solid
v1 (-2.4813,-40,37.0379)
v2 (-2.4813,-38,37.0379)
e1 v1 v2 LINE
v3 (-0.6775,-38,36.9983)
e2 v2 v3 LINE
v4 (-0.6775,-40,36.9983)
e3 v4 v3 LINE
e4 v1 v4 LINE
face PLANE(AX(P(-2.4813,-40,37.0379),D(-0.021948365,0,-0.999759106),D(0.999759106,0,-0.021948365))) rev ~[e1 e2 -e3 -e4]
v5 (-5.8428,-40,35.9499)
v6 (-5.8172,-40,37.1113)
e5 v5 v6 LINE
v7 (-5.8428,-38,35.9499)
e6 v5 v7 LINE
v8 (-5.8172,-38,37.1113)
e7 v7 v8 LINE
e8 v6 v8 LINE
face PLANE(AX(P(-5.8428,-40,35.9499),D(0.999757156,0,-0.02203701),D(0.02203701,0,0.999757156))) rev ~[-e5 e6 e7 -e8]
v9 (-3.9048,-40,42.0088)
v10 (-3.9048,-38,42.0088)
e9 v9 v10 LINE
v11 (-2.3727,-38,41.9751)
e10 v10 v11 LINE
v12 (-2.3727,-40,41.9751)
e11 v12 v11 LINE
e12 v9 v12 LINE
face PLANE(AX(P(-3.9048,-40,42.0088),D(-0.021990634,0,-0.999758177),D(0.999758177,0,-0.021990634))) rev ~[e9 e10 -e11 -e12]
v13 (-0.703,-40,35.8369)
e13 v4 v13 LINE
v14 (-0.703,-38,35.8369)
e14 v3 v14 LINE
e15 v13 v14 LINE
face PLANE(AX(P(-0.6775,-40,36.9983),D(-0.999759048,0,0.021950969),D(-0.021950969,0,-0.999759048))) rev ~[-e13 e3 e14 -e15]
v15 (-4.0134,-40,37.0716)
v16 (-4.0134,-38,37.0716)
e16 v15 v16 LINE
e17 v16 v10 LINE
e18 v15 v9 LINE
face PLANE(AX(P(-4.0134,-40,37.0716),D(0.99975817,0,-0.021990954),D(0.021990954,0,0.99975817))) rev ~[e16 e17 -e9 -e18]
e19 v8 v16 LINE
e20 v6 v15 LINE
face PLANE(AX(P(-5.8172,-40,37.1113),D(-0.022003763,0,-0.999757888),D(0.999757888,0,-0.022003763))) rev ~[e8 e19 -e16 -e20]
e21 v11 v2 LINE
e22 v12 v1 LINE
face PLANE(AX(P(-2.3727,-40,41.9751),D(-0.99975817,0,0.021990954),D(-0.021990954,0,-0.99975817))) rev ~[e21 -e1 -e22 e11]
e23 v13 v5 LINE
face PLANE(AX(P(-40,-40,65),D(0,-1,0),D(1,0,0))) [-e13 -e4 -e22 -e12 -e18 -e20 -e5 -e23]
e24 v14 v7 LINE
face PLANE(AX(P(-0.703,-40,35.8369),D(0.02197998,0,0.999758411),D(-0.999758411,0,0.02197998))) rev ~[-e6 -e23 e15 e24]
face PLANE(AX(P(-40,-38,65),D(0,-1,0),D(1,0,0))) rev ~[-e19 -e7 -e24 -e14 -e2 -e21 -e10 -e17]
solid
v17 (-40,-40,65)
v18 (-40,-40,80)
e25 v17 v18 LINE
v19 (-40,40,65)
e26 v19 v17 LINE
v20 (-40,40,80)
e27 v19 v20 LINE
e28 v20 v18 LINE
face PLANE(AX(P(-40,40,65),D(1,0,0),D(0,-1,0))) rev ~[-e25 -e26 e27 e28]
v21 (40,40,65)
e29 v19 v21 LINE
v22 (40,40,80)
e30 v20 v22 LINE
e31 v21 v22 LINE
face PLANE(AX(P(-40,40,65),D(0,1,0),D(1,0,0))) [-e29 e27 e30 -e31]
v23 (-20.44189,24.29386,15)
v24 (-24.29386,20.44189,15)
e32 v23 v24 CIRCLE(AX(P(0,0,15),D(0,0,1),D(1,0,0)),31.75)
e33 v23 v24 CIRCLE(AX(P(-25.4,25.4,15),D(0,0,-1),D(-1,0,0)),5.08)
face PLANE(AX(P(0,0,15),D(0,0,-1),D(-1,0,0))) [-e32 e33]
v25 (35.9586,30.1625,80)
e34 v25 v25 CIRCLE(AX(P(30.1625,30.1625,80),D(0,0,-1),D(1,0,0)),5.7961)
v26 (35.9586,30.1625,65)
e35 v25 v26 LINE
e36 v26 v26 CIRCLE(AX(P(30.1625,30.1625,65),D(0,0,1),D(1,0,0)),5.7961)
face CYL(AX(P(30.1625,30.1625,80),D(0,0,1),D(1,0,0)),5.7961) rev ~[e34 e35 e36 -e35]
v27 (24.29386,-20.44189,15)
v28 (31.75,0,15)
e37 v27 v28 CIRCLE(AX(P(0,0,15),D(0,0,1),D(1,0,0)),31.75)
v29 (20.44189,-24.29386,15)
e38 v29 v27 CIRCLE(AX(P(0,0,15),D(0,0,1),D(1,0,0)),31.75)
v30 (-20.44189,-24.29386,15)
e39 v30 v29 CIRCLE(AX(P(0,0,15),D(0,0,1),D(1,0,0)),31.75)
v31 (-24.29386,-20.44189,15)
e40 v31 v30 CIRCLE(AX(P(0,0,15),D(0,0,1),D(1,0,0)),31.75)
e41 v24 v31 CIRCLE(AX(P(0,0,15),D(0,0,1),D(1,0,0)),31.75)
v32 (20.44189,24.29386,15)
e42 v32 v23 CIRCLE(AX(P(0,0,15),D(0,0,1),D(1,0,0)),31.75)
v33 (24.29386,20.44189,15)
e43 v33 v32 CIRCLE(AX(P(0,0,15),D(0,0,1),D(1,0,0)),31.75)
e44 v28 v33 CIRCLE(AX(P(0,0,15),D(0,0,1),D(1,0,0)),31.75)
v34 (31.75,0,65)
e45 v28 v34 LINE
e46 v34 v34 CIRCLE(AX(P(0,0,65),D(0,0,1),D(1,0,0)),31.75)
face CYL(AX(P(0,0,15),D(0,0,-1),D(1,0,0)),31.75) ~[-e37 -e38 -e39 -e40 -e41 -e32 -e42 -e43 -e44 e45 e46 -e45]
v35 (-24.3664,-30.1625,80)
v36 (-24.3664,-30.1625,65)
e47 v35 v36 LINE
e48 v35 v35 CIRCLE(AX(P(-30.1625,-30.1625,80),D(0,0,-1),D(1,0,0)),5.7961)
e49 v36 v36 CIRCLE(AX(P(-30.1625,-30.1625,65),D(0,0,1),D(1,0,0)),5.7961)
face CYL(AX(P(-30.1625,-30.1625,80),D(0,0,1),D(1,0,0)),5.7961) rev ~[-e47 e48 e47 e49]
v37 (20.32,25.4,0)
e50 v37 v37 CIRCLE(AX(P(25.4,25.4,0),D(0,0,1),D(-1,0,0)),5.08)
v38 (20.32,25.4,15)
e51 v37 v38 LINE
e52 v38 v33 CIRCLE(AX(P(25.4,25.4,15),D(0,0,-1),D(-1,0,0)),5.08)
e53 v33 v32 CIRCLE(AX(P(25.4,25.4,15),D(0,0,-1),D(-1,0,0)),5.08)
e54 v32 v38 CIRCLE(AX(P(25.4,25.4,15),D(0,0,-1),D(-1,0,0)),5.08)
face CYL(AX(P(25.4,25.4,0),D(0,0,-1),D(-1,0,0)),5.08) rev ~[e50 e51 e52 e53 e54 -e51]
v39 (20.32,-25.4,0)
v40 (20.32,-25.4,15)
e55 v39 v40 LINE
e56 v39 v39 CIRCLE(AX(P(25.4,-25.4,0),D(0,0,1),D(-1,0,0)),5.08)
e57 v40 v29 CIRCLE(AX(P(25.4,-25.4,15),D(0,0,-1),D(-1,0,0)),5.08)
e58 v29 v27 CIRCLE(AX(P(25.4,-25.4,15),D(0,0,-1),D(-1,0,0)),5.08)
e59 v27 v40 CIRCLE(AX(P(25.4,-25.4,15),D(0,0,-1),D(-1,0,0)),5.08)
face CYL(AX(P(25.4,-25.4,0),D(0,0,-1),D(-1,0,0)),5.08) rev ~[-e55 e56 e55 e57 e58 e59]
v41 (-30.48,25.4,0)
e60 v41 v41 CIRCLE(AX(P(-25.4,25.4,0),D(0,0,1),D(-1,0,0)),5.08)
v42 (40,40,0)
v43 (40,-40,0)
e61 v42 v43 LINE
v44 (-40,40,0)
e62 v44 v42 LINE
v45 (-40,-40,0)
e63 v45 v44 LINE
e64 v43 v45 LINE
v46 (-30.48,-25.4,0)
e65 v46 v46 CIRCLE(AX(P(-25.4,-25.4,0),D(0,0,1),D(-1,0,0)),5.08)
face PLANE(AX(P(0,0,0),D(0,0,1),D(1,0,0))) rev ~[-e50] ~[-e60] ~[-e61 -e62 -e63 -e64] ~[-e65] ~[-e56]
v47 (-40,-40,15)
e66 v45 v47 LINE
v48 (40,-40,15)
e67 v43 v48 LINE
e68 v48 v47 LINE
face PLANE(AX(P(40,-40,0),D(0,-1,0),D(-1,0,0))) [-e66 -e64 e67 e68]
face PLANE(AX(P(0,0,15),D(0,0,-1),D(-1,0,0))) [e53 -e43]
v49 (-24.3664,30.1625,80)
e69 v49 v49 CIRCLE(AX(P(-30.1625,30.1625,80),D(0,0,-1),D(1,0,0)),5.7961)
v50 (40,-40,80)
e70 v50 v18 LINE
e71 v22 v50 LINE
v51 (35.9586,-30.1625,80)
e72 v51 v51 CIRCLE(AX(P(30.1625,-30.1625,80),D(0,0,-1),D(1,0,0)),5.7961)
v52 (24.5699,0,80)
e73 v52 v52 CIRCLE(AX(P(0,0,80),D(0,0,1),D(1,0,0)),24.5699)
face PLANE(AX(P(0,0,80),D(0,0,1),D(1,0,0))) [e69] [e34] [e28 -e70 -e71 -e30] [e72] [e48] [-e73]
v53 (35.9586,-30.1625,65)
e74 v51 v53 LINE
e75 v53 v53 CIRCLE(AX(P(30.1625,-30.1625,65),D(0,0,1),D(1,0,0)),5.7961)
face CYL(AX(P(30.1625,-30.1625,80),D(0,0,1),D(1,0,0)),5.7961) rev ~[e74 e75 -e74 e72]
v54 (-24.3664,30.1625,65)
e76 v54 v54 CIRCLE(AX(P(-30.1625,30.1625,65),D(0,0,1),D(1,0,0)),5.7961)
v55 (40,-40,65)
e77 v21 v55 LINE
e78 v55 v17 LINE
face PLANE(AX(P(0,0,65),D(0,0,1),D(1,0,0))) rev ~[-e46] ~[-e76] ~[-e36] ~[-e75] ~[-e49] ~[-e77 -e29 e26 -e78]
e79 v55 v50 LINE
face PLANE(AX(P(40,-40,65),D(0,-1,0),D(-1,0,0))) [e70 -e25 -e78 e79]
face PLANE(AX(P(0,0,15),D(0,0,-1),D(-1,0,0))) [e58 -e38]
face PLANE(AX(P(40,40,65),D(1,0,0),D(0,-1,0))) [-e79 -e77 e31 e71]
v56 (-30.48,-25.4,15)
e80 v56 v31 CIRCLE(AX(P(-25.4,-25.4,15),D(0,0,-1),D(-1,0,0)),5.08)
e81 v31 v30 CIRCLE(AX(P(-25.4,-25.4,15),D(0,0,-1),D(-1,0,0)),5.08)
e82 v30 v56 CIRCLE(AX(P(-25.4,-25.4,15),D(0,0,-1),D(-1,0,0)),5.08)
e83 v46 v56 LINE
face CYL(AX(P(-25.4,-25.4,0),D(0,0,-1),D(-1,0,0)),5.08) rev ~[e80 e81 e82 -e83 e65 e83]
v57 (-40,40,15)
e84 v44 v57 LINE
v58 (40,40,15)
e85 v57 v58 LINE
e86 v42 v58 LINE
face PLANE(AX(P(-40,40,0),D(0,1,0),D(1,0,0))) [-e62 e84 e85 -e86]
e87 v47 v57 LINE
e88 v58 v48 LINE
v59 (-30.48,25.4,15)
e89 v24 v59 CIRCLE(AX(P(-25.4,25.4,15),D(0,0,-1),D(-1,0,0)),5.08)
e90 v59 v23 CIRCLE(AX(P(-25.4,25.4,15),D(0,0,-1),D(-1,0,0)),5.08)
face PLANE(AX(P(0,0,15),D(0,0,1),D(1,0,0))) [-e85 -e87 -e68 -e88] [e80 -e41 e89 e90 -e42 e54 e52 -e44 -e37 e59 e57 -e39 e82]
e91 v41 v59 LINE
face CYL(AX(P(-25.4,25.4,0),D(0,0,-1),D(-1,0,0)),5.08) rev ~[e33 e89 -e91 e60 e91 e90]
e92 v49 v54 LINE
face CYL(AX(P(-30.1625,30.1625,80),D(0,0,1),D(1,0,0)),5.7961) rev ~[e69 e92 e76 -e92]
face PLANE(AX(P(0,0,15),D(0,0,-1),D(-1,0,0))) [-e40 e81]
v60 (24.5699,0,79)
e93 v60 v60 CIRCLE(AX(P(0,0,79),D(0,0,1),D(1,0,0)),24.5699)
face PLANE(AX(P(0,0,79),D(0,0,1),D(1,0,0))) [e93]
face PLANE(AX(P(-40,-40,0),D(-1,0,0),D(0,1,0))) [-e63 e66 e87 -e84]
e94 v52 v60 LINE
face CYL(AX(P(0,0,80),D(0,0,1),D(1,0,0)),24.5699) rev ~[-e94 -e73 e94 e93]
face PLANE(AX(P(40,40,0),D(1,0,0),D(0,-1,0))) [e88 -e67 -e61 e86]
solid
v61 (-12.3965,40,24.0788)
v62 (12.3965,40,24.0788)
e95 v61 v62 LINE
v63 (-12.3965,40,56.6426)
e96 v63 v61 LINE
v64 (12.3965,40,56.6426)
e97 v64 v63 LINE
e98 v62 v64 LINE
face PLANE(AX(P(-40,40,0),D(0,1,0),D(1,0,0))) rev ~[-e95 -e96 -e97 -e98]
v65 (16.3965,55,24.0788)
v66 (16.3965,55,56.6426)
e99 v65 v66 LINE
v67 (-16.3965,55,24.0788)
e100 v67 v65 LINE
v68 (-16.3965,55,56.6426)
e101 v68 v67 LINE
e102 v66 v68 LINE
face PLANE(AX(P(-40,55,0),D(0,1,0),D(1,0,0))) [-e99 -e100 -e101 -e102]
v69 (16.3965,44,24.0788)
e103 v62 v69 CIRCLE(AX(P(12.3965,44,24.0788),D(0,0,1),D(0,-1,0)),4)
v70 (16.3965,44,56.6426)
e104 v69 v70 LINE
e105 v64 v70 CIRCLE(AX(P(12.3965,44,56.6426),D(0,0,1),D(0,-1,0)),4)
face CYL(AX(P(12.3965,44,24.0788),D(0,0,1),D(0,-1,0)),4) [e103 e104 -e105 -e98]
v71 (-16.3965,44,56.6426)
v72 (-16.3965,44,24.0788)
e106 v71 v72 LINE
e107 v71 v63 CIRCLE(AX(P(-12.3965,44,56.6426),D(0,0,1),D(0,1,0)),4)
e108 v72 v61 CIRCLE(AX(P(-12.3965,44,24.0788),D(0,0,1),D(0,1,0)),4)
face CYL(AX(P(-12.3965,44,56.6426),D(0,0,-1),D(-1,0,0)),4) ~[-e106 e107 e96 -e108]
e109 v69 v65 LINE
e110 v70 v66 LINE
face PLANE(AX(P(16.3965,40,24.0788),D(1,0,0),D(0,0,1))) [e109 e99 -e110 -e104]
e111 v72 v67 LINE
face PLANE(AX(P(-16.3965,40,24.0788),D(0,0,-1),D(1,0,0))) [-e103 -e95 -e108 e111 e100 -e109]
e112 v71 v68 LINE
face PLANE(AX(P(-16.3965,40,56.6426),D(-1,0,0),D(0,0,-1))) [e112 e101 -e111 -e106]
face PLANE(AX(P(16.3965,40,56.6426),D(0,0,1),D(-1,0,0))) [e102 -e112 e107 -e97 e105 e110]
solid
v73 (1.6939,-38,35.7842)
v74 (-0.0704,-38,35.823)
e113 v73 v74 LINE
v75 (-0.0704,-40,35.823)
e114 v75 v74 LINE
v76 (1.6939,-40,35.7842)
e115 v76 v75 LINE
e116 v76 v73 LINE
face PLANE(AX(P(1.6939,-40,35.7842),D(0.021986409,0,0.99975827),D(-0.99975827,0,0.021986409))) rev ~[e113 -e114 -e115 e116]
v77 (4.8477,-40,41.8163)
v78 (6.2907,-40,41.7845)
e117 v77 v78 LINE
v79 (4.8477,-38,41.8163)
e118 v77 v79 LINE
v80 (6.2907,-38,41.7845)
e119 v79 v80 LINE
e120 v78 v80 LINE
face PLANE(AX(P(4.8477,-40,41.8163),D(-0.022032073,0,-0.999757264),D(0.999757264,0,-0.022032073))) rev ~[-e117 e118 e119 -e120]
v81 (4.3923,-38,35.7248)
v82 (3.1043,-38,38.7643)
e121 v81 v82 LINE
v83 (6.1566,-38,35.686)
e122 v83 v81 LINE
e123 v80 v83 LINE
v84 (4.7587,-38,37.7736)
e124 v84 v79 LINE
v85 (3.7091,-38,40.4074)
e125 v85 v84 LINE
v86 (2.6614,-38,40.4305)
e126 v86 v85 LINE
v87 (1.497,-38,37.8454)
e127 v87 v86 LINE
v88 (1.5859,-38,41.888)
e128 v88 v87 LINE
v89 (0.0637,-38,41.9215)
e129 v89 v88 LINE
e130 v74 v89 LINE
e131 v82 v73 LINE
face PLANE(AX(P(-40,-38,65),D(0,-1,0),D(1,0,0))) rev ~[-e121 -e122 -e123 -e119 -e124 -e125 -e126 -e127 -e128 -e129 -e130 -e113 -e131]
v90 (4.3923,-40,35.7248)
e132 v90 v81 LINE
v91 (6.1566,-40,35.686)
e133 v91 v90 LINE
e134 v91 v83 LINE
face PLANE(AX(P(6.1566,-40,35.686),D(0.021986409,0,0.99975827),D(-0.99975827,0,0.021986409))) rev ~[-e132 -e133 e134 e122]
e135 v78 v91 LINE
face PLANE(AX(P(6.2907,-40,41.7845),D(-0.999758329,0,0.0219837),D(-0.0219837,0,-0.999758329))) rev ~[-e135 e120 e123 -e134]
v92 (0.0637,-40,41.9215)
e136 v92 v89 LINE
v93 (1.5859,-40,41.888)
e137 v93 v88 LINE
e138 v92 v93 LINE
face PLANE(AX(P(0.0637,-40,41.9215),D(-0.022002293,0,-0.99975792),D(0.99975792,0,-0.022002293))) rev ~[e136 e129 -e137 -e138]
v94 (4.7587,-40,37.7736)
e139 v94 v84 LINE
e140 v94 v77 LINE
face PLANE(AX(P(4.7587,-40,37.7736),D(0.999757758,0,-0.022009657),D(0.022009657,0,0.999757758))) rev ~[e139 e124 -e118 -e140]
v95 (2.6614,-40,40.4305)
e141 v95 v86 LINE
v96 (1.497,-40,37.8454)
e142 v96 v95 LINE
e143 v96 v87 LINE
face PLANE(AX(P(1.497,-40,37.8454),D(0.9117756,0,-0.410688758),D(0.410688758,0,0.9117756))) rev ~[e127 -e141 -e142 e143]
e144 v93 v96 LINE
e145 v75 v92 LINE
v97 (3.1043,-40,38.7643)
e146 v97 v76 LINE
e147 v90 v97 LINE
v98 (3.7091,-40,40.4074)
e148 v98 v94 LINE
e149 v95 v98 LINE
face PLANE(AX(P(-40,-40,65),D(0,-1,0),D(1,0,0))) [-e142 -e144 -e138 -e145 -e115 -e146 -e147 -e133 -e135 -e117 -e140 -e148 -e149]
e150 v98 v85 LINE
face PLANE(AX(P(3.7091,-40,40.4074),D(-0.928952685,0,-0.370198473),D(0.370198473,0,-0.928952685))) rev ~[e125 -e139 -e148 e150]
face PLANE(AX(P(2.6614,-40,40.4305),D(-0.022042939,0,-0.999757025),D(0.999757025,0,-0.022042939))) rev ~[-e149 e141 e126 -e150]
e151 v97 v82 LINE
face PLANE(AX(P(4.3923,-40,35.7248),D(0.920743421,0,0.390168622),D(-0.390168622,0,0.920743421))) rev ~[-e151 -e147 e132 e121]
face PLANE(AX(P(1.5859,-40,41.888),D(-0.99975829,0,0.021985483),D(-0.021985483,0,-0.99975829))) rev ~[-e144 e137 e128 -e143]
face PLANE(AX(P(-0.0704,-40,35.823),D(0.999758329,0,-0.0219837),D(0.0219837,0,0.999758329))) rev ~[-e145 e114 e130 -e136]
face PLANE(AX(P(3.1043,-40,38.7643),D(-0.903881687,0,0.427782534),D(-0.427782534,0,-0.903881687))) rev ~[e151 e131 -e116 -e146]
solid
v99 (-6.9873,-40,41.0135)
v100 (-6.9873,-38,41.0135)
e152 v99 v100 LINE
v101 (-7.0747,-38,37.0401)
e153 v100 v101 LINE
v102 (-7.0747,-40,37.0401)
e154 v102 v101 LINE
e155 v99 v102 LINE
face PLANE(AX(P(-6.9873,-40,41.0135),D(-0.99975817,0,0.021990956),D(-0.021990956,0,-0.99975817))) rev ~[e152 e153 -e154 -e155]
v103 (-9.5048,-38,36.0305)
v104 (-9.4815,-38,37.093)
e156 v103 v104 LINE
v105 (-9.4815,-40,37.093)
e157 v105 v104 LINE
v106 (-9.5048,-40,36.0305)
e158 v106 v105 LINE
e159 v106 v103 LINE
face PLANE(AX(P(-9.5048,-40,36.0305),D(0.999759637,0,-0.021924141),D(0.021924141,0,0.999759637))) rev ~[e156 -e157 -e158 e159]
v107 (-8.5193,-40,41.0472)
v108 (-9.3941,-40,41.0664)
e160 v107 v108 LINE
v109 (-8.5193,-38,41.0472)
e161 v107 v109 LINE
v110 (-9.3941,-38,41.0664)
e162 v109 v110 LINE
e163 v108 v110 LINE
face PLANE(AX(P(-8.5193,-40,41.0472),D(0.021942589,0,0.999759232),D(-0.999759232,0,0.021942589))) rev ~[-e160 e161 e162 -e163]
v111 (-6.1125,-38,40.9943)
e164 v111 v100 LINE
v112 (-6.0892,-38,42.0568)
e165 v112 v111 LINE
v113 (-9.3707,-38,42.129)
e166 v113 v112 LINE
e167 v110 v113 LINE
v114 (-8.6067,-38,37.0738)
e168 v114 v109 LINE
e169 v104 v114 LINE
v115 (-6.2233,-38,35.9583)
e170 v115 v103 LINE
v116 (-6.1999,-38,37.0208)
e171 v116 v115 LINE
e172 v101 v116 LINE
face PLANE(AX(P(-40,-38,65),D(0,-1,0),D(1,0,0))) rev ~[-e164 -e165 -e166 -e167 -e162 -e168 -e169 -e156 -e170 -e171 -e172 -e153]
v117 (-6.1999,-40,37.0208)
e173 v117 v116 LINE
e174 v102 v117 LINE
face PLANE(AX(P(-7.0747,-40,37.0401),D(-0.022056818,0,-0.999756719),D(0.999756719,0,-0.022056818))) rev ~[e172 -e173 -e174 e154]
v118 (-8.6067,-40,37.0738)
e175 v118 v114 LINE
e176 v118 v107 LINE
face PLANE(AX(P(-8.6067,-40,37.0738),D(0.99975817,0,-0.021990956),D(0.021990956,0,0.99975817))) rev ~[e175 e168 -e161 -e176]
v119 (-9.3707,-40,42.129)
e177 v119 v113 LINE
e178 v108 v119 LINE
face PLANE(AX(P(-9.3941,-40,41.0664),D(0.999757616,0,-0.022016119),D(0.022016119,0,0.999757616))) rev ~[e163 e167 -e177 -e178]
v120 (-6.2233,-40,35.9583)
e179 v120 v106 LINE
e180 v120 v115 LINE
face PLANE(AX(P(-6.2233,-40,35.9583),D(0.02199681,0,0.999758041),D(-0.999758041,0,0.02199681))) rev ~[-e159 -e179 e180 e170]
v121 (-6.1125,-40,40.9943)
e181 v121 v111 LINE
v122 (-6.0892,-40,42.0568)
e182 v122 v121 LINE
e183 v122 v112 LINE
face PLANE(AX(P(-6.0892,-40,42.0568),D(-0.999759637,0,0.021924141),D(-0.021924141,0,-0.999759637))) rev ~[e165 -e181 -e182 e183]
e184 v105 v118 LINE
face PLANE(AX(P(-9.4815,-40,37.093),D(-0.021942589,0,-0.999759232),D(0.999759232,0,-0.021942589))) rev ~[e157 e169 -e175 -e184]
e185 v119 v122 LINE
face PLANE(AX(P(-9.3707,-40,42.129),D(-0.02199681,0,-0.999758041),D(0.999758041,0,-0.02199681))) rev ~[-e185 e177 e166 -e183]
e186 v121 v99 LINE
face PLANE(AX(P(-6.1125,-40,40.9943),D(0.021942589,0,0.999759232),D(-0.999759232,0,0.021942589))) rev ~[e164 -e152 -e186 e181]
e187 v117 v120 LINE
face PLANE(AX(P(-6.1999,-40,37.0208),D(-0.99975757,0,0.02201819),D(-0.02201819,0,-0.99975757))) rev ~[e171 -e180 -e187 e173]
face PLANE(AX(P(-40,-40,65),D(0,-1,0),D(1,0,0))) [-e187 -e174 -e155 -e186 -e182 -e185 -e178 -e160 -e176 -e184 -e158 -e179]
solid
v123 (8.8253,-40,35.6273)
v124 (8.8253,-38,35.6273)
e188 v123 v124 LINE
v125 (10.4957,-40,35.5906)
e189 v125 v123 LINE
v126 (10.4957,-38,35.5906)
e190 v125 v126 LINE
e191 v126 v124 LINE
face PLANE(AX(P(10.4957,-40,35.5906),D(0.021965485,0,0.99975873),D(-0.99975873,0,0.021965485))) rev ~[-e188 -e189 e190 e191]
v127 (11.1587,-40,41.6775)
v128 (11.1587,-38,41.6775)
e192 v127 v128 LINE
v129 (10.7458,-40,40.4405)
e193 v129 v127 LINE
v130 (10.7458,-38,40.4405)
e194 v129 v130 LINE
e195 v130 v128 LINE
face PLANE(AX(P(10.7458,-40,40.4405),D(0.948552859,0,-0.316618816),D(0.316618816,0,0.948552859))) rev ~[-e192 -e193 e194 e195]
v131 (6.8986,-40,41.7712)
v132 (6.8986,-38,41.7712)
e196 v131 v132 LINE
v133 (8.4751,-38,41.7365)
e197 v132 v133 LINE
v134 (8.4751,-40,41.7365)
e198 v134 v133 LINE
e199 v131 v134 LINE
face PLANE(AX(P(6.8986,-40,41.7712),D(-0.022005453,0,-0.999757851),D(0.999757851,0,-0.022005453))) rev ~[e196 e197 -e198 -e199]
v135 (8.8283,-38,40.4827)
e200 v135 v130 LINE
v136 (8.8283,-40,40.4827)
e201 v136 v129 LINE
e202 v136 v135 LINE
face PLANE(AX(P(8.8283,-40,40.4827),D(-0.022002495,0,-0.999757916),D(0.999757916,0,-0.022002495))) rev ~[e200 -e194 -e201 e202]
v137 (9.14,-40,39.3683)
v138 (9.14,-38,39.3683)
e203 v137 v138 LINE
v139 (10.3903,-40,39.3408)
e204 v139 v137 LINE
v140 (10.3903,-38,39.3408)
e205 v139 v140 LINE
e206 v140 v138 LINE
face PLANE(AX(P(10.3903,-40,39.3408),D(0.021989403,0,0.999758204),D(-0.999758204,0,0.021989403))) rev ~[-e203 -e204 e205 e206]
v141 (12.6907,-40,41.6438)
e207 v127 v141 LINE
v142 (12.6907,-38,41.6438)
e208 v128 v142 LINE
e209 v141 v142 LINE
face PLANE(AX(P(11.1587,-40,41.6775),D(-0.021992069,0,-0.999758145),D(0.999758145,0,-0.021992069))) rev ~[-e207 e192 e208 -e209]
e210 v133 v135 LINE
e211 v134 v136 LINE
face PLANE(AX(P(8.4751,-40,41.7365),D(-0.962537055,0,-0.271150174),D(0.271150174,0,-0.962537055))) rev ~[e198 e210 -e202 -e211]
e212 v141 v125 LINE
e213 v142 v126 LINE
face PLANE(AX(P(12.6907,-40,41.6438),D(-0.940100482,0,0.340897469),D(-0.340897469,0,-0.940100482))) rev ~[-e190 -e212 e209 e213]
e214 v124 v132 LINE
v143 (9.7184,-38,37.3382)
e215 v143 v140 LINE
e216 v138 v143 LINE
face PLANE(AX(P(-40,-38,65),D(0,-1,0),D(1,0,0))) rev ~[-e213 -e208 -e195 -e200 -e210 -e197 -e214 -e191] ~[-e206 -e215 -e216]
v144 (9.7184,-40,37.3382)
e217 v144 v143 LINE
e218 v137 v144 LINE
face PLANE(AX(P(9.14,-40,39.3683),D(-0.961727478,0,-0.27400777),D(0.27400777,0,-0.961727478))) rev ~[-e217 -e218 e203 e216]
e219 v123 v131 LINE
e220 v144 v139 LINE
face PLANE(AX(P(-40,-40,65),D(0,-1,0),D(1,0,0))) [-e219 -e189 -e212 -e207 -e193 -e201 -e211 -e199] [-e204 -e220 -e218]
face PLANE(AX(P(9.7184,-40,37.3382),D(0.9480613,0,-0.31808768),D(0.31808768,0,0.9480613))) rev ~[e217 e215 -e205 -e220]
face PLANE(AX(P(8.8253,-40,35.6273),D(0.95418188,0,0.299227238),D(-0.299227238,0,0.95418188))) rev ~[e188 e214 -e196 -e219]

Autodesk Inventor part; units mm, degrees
ref_plane "YZ Plane" through (0, 0, 0) normal (1, 0, 0) x (0, 1, 0)
ref_plane "XZ Plane" through (0, 0, 0) normal (0, 1, 0) x (-1, 0, 0)
ref_plane "XY Plane" through (0, 0, 0) normal (0, 0, 1) x (1, 0, 0)
sketch "Sketch1" plane through (0, 0, 0) normal (0, 0, 1) x (1, 0, 0)
  line L0 (40, -40) -> (-40, -40)
  line L1 (-40, -40) -> (-40, 40)
  line L2 (-40, 40) -> (40, 40)
  line L3 (40, 40) -> (40, -40)
  line L4 (40, -40) -> (-40, 40) construction
  line L5 (-40, -40) -> (40, 40) construction
  point P0 (0, 0)
  dimension "d2" = 80
extrude "Extrusion1" add sketch "Sketch1" along normal blind 15
sketch "Sketch2" plane through (0, 0, 15) normal (0, 0, 1) x (1, 0, 0)
  circle A0 centre (0, 0) radius 31.75
  dimension "d21" = 63.5
extrude "Extrusion2" add sketch "Sketch2" along normal blind 50
sketch "Sketch3" plane through (0, 0, 65) normal (0, 0, 1) x (1, 0, 0)
  line L0 (-40, 40) -> (-40, -40) projected
  line L1 (40, -40) -> (-40, -40)
  line L2 (-40, -40) -> (-40, 40)
  line L3 (-40, 40) -> (40, 40)
  line L4 (40, 40) -> (40, -40)
  line L5 (40, -40) -> (-40, 40) construction
  line L6 (-40, -40) -> (40, 40) construction
  point P0 (0, 0)
extrude "Extrusion3" add sketch "Sketch3" along normal blind 15
sketch "Sketch4" plane through (-40, 40, 0) normal (0, 1, 0) x (1, 0, 0)
  line L0 (56.3965, -56.6426) -> (23.6035, -56.6426)
  line L1 (23.6035, -56.6426) -> (23.6035, -24.0788)
  line L2 (23.6035, -24.0788) -> (56.3965, -24.0788)
  line L3 (56.3965, -24.0788) -> (56.3965, -56.6426)
  line L4 (56.3965, -56.6426) -> (23.6035, -24.0788) construction
  line L5 (23.6035, -56.6426) -> (56.3965, -24.0788) construction
  point P0 (40, 0)
  point P1 (40, -40.3607)
extrude "Extrusion4" add sketch "Sketch4" along normal blind 15
fillet "Fillet1" radius 4 1 edges at (-16.3965, 40, 40.3607)
fillet "Fillet2" radius 4 1 edges at (16.3965, 40, 40.3607)
sketch "Sketch5" plane through (-40, -40, 65) normal (0, -1, 0) x (1, 0, 0)
  line L0 (52.5319, -29.4542) -> (3.369, -28.3729) construction
  line L1 (3.369, -28.3729) -> (3.6465, -15.7537) construction
  line L2 (3.6465, -15.7537) -> (52.8094, -16.835) construction
  line L3 (52.8094, -16.835) -> (52.5319, -29.4542) construction
  line L4 (52.6907, -23.3562) -> (50.4957, -29.4094)
  line L5 (50.4957, -29.4094) -> (48.8253, -29.3727)
  line L6 (48.8253, -29.3727) -> (46.8986, -23.2288)
  line L7 (46.8986, -23.2288) -> (48.4751, -23.2635)
  line L8 (48.4751, -23.2635) -> (48.8283, -24.5173)
  line L9 (48.8283, -24.5173) -> (50.7458, -24.5595)
  line L10 (50.7458, -24.5595) -> (51.1587, -23.3225)
  line L11 (51.1587, -23.3225) -> (52.6907, -23.3562)
  line L12 (49.14, -25.6317) -> (49.7184, -27.6618)
  line L13 (49.7184, -27.6618) -> (50.3903, -25.6592)
  line L14 (50.3903, -25.6592) -> (49.14, -25.6317)
  line L15 (40.0637, -23.0785) -> (41.5859, -23.112)
  line L16 (41.5859, -23.112) -> (41.497, -27.1546)
  line L17 (41.497, -27.1546) -> (42.6614, -24.5695)
  line L18 (42.6614, -24.5695) -> (43.7091, -24.5926)
  line L19 (43.7091, -24.5926) -> (44.7587, -27.2264)
  line L20 (44.7587, -27.2264) -> (44.8477, -23.1837)
  line L21 (44.8477, -23.1837) -> (46.2907, -23.2155)
  line L22 (46.2907, -23.2155) -> (46.1566, -29.314)
  line L23 (46.1566, -29.314) -> (44.3923, -29.2752)
  line L24 (44.3923, -29.2752) -> (43.1043, -26.2357)
  line L25 (43.1043, -26.2357) -> (41.6939, -29.2158)
  line L26 (41.6939, -29.2158) -> (39.9296, -29.177)
  line L27 (39.9296, -29.177) -> (40.0637, -23.0785)
  line L28 (37.6273, -23.0249) -> (37.5187, -27.9621)
  line L29 (37.5187, -27.9621) -> (39.3225, -28.0017)
  line L30 (39.3225, -28.0017) -> (39.297, -29.1631)
  line L31 (39.297, -29.1631) -> (34.1572, -29.0501)
  line L32 (34.1572, -29.0501) -> (34.1828, -27.8887)
  line L33 (34.1828, -27.8887) -> (35.9866, -27.9284)
  line L34 (35.9866, -27.9284) -> (36.0952, -22.9912)
  line L35 (36.0952, -22.9912) -> (37.6273, -23.0249)
  line L36 (30.6293, -22.871) -> (33.9108, -22.9432)
  line L37 (33.9108, -22.9432) -> (33.8875, -24.0057)
  line L38 (33.8875, -24.0057) -> (33.0127, -23.9865)
  line L39 (33.0127, -23.9865) -> (32.9253, -27.9599)
  line L40 (32.9253, -27.9599) -> (33.8001, -27.9792)
  line L41 (33.8001, -27.9792) -> (33.7767, -29.0417)
  line L42 (33.7767, -29.0417) -> (30.4952, -28.9695)
  line L43 (30.4952, -28.9695) -> (30.5185, -27.907)
  line L44 (30.5185, -27.907) -> (31.3933, -27.9262)
  line L45 (31.3933, -27.9262) -> (31.4807, -23.9528)
  line L46 (31.4807, -23.9528) -> (30.6059, -23.9336)
  line L47 (30.6059, -23.9336) -> (30.6293, -22.871)
  point P0 (40, -65)
extrude "Extrusion5" add sketch "Sketch5" against normal blind 2
sketch "Sketch6" plane through (0, 0, 80) normal (0, 0, 1) x (1, 0, 0)
  circle A0 centre (0, 0) radius 24.5699
extrude "Extrusion6" cut sketch "Sketch6" against normal blind 1
sketch "Sketch7" plane through (0, 0, 80) normal (0, 0, 1) x (1, 0, 0)
  circle A0 centre (30.1625, -30.1625) radius 5.7961
  circle A1 centre (-30.1625, -30.1625) radius 5.7961
  circle A2 centre (-30.1625, 30.1625) radius 5.7961
  circle A3 centre (30.1625, 30.1625) radius 5.7961
  line L0 (30.1625, 30.1625) -> (-30.1625, 30.1625)
  line L1 (-30.1625, 30.1625) -> (-30.1625, -30.1625)
  line L2 (-30.1625, -30.1625) -> (30.1625, -30.1625)
  line L3 (30.1625, -30.1625) -> (30.1625, 30.1625)
  line L4 (30.1625, 30.1625) -> (-30.1625, -30.1625) construction
  line L5 (-30.1625, 30.1625) -> (30.1625, -30.1625) construction
  point P0 (0, 0)
  dimension "d22" = 60.325
extrude "Extrusion7" cut sketch "Sketch7" against normal up to surface (15 mm away) contours A0 L2 L3 | L3 L2 A0 | L3 L0 A3 | A3 L0 L3 | L2 L1 A1 | A1 L1 L2 | L0 L1 A2 | A2 L1 L0
sketch "Sketch8" plane through (0, 0, 0) normal (0, 0, -1) x (-1, 0, 0)
  line L0 (25.4, -25.4) -> (-25.4, -25.4)
  line L1 (-25.4, -25.4) -> (-25.4, 25.4)
  line L2 (-25.4, 25.4) -> (25.4, 25.4)
  line L3 (25.4, 25.4) -> (25.4, -25.4)
  line L4 (25.4, -25.4) -> (-25.4, 25.4) construction
  line L5 (-25.4, -25.4) -> (25.4, 25.4) construction
  circle A0 centre (25.4, 25.4) radius 5.08
  circle A1 centre (25.4, -25.4) radius 5.08
  circle A2 centre (-25.4, -25.4) radius 5.08
  circle A3 centre (-25.4, 25.4) radius 5.08
  point P0 (0, 0)
  dimension "d19" = 50.8
  dimension "d20" = 10.16
extrude "Extrusion8" cut sketch "Sketch8" against normal up to surface (15 mm away) contours A2 L1 L0 | L0 L1 A2 | A1 L3 L0 | L0 L3 A1 | A3 L2 L1 | L1 L2 A3 | A0 L2 L3 | L3 L2 A0
properties part number "sensor_AMTI"
